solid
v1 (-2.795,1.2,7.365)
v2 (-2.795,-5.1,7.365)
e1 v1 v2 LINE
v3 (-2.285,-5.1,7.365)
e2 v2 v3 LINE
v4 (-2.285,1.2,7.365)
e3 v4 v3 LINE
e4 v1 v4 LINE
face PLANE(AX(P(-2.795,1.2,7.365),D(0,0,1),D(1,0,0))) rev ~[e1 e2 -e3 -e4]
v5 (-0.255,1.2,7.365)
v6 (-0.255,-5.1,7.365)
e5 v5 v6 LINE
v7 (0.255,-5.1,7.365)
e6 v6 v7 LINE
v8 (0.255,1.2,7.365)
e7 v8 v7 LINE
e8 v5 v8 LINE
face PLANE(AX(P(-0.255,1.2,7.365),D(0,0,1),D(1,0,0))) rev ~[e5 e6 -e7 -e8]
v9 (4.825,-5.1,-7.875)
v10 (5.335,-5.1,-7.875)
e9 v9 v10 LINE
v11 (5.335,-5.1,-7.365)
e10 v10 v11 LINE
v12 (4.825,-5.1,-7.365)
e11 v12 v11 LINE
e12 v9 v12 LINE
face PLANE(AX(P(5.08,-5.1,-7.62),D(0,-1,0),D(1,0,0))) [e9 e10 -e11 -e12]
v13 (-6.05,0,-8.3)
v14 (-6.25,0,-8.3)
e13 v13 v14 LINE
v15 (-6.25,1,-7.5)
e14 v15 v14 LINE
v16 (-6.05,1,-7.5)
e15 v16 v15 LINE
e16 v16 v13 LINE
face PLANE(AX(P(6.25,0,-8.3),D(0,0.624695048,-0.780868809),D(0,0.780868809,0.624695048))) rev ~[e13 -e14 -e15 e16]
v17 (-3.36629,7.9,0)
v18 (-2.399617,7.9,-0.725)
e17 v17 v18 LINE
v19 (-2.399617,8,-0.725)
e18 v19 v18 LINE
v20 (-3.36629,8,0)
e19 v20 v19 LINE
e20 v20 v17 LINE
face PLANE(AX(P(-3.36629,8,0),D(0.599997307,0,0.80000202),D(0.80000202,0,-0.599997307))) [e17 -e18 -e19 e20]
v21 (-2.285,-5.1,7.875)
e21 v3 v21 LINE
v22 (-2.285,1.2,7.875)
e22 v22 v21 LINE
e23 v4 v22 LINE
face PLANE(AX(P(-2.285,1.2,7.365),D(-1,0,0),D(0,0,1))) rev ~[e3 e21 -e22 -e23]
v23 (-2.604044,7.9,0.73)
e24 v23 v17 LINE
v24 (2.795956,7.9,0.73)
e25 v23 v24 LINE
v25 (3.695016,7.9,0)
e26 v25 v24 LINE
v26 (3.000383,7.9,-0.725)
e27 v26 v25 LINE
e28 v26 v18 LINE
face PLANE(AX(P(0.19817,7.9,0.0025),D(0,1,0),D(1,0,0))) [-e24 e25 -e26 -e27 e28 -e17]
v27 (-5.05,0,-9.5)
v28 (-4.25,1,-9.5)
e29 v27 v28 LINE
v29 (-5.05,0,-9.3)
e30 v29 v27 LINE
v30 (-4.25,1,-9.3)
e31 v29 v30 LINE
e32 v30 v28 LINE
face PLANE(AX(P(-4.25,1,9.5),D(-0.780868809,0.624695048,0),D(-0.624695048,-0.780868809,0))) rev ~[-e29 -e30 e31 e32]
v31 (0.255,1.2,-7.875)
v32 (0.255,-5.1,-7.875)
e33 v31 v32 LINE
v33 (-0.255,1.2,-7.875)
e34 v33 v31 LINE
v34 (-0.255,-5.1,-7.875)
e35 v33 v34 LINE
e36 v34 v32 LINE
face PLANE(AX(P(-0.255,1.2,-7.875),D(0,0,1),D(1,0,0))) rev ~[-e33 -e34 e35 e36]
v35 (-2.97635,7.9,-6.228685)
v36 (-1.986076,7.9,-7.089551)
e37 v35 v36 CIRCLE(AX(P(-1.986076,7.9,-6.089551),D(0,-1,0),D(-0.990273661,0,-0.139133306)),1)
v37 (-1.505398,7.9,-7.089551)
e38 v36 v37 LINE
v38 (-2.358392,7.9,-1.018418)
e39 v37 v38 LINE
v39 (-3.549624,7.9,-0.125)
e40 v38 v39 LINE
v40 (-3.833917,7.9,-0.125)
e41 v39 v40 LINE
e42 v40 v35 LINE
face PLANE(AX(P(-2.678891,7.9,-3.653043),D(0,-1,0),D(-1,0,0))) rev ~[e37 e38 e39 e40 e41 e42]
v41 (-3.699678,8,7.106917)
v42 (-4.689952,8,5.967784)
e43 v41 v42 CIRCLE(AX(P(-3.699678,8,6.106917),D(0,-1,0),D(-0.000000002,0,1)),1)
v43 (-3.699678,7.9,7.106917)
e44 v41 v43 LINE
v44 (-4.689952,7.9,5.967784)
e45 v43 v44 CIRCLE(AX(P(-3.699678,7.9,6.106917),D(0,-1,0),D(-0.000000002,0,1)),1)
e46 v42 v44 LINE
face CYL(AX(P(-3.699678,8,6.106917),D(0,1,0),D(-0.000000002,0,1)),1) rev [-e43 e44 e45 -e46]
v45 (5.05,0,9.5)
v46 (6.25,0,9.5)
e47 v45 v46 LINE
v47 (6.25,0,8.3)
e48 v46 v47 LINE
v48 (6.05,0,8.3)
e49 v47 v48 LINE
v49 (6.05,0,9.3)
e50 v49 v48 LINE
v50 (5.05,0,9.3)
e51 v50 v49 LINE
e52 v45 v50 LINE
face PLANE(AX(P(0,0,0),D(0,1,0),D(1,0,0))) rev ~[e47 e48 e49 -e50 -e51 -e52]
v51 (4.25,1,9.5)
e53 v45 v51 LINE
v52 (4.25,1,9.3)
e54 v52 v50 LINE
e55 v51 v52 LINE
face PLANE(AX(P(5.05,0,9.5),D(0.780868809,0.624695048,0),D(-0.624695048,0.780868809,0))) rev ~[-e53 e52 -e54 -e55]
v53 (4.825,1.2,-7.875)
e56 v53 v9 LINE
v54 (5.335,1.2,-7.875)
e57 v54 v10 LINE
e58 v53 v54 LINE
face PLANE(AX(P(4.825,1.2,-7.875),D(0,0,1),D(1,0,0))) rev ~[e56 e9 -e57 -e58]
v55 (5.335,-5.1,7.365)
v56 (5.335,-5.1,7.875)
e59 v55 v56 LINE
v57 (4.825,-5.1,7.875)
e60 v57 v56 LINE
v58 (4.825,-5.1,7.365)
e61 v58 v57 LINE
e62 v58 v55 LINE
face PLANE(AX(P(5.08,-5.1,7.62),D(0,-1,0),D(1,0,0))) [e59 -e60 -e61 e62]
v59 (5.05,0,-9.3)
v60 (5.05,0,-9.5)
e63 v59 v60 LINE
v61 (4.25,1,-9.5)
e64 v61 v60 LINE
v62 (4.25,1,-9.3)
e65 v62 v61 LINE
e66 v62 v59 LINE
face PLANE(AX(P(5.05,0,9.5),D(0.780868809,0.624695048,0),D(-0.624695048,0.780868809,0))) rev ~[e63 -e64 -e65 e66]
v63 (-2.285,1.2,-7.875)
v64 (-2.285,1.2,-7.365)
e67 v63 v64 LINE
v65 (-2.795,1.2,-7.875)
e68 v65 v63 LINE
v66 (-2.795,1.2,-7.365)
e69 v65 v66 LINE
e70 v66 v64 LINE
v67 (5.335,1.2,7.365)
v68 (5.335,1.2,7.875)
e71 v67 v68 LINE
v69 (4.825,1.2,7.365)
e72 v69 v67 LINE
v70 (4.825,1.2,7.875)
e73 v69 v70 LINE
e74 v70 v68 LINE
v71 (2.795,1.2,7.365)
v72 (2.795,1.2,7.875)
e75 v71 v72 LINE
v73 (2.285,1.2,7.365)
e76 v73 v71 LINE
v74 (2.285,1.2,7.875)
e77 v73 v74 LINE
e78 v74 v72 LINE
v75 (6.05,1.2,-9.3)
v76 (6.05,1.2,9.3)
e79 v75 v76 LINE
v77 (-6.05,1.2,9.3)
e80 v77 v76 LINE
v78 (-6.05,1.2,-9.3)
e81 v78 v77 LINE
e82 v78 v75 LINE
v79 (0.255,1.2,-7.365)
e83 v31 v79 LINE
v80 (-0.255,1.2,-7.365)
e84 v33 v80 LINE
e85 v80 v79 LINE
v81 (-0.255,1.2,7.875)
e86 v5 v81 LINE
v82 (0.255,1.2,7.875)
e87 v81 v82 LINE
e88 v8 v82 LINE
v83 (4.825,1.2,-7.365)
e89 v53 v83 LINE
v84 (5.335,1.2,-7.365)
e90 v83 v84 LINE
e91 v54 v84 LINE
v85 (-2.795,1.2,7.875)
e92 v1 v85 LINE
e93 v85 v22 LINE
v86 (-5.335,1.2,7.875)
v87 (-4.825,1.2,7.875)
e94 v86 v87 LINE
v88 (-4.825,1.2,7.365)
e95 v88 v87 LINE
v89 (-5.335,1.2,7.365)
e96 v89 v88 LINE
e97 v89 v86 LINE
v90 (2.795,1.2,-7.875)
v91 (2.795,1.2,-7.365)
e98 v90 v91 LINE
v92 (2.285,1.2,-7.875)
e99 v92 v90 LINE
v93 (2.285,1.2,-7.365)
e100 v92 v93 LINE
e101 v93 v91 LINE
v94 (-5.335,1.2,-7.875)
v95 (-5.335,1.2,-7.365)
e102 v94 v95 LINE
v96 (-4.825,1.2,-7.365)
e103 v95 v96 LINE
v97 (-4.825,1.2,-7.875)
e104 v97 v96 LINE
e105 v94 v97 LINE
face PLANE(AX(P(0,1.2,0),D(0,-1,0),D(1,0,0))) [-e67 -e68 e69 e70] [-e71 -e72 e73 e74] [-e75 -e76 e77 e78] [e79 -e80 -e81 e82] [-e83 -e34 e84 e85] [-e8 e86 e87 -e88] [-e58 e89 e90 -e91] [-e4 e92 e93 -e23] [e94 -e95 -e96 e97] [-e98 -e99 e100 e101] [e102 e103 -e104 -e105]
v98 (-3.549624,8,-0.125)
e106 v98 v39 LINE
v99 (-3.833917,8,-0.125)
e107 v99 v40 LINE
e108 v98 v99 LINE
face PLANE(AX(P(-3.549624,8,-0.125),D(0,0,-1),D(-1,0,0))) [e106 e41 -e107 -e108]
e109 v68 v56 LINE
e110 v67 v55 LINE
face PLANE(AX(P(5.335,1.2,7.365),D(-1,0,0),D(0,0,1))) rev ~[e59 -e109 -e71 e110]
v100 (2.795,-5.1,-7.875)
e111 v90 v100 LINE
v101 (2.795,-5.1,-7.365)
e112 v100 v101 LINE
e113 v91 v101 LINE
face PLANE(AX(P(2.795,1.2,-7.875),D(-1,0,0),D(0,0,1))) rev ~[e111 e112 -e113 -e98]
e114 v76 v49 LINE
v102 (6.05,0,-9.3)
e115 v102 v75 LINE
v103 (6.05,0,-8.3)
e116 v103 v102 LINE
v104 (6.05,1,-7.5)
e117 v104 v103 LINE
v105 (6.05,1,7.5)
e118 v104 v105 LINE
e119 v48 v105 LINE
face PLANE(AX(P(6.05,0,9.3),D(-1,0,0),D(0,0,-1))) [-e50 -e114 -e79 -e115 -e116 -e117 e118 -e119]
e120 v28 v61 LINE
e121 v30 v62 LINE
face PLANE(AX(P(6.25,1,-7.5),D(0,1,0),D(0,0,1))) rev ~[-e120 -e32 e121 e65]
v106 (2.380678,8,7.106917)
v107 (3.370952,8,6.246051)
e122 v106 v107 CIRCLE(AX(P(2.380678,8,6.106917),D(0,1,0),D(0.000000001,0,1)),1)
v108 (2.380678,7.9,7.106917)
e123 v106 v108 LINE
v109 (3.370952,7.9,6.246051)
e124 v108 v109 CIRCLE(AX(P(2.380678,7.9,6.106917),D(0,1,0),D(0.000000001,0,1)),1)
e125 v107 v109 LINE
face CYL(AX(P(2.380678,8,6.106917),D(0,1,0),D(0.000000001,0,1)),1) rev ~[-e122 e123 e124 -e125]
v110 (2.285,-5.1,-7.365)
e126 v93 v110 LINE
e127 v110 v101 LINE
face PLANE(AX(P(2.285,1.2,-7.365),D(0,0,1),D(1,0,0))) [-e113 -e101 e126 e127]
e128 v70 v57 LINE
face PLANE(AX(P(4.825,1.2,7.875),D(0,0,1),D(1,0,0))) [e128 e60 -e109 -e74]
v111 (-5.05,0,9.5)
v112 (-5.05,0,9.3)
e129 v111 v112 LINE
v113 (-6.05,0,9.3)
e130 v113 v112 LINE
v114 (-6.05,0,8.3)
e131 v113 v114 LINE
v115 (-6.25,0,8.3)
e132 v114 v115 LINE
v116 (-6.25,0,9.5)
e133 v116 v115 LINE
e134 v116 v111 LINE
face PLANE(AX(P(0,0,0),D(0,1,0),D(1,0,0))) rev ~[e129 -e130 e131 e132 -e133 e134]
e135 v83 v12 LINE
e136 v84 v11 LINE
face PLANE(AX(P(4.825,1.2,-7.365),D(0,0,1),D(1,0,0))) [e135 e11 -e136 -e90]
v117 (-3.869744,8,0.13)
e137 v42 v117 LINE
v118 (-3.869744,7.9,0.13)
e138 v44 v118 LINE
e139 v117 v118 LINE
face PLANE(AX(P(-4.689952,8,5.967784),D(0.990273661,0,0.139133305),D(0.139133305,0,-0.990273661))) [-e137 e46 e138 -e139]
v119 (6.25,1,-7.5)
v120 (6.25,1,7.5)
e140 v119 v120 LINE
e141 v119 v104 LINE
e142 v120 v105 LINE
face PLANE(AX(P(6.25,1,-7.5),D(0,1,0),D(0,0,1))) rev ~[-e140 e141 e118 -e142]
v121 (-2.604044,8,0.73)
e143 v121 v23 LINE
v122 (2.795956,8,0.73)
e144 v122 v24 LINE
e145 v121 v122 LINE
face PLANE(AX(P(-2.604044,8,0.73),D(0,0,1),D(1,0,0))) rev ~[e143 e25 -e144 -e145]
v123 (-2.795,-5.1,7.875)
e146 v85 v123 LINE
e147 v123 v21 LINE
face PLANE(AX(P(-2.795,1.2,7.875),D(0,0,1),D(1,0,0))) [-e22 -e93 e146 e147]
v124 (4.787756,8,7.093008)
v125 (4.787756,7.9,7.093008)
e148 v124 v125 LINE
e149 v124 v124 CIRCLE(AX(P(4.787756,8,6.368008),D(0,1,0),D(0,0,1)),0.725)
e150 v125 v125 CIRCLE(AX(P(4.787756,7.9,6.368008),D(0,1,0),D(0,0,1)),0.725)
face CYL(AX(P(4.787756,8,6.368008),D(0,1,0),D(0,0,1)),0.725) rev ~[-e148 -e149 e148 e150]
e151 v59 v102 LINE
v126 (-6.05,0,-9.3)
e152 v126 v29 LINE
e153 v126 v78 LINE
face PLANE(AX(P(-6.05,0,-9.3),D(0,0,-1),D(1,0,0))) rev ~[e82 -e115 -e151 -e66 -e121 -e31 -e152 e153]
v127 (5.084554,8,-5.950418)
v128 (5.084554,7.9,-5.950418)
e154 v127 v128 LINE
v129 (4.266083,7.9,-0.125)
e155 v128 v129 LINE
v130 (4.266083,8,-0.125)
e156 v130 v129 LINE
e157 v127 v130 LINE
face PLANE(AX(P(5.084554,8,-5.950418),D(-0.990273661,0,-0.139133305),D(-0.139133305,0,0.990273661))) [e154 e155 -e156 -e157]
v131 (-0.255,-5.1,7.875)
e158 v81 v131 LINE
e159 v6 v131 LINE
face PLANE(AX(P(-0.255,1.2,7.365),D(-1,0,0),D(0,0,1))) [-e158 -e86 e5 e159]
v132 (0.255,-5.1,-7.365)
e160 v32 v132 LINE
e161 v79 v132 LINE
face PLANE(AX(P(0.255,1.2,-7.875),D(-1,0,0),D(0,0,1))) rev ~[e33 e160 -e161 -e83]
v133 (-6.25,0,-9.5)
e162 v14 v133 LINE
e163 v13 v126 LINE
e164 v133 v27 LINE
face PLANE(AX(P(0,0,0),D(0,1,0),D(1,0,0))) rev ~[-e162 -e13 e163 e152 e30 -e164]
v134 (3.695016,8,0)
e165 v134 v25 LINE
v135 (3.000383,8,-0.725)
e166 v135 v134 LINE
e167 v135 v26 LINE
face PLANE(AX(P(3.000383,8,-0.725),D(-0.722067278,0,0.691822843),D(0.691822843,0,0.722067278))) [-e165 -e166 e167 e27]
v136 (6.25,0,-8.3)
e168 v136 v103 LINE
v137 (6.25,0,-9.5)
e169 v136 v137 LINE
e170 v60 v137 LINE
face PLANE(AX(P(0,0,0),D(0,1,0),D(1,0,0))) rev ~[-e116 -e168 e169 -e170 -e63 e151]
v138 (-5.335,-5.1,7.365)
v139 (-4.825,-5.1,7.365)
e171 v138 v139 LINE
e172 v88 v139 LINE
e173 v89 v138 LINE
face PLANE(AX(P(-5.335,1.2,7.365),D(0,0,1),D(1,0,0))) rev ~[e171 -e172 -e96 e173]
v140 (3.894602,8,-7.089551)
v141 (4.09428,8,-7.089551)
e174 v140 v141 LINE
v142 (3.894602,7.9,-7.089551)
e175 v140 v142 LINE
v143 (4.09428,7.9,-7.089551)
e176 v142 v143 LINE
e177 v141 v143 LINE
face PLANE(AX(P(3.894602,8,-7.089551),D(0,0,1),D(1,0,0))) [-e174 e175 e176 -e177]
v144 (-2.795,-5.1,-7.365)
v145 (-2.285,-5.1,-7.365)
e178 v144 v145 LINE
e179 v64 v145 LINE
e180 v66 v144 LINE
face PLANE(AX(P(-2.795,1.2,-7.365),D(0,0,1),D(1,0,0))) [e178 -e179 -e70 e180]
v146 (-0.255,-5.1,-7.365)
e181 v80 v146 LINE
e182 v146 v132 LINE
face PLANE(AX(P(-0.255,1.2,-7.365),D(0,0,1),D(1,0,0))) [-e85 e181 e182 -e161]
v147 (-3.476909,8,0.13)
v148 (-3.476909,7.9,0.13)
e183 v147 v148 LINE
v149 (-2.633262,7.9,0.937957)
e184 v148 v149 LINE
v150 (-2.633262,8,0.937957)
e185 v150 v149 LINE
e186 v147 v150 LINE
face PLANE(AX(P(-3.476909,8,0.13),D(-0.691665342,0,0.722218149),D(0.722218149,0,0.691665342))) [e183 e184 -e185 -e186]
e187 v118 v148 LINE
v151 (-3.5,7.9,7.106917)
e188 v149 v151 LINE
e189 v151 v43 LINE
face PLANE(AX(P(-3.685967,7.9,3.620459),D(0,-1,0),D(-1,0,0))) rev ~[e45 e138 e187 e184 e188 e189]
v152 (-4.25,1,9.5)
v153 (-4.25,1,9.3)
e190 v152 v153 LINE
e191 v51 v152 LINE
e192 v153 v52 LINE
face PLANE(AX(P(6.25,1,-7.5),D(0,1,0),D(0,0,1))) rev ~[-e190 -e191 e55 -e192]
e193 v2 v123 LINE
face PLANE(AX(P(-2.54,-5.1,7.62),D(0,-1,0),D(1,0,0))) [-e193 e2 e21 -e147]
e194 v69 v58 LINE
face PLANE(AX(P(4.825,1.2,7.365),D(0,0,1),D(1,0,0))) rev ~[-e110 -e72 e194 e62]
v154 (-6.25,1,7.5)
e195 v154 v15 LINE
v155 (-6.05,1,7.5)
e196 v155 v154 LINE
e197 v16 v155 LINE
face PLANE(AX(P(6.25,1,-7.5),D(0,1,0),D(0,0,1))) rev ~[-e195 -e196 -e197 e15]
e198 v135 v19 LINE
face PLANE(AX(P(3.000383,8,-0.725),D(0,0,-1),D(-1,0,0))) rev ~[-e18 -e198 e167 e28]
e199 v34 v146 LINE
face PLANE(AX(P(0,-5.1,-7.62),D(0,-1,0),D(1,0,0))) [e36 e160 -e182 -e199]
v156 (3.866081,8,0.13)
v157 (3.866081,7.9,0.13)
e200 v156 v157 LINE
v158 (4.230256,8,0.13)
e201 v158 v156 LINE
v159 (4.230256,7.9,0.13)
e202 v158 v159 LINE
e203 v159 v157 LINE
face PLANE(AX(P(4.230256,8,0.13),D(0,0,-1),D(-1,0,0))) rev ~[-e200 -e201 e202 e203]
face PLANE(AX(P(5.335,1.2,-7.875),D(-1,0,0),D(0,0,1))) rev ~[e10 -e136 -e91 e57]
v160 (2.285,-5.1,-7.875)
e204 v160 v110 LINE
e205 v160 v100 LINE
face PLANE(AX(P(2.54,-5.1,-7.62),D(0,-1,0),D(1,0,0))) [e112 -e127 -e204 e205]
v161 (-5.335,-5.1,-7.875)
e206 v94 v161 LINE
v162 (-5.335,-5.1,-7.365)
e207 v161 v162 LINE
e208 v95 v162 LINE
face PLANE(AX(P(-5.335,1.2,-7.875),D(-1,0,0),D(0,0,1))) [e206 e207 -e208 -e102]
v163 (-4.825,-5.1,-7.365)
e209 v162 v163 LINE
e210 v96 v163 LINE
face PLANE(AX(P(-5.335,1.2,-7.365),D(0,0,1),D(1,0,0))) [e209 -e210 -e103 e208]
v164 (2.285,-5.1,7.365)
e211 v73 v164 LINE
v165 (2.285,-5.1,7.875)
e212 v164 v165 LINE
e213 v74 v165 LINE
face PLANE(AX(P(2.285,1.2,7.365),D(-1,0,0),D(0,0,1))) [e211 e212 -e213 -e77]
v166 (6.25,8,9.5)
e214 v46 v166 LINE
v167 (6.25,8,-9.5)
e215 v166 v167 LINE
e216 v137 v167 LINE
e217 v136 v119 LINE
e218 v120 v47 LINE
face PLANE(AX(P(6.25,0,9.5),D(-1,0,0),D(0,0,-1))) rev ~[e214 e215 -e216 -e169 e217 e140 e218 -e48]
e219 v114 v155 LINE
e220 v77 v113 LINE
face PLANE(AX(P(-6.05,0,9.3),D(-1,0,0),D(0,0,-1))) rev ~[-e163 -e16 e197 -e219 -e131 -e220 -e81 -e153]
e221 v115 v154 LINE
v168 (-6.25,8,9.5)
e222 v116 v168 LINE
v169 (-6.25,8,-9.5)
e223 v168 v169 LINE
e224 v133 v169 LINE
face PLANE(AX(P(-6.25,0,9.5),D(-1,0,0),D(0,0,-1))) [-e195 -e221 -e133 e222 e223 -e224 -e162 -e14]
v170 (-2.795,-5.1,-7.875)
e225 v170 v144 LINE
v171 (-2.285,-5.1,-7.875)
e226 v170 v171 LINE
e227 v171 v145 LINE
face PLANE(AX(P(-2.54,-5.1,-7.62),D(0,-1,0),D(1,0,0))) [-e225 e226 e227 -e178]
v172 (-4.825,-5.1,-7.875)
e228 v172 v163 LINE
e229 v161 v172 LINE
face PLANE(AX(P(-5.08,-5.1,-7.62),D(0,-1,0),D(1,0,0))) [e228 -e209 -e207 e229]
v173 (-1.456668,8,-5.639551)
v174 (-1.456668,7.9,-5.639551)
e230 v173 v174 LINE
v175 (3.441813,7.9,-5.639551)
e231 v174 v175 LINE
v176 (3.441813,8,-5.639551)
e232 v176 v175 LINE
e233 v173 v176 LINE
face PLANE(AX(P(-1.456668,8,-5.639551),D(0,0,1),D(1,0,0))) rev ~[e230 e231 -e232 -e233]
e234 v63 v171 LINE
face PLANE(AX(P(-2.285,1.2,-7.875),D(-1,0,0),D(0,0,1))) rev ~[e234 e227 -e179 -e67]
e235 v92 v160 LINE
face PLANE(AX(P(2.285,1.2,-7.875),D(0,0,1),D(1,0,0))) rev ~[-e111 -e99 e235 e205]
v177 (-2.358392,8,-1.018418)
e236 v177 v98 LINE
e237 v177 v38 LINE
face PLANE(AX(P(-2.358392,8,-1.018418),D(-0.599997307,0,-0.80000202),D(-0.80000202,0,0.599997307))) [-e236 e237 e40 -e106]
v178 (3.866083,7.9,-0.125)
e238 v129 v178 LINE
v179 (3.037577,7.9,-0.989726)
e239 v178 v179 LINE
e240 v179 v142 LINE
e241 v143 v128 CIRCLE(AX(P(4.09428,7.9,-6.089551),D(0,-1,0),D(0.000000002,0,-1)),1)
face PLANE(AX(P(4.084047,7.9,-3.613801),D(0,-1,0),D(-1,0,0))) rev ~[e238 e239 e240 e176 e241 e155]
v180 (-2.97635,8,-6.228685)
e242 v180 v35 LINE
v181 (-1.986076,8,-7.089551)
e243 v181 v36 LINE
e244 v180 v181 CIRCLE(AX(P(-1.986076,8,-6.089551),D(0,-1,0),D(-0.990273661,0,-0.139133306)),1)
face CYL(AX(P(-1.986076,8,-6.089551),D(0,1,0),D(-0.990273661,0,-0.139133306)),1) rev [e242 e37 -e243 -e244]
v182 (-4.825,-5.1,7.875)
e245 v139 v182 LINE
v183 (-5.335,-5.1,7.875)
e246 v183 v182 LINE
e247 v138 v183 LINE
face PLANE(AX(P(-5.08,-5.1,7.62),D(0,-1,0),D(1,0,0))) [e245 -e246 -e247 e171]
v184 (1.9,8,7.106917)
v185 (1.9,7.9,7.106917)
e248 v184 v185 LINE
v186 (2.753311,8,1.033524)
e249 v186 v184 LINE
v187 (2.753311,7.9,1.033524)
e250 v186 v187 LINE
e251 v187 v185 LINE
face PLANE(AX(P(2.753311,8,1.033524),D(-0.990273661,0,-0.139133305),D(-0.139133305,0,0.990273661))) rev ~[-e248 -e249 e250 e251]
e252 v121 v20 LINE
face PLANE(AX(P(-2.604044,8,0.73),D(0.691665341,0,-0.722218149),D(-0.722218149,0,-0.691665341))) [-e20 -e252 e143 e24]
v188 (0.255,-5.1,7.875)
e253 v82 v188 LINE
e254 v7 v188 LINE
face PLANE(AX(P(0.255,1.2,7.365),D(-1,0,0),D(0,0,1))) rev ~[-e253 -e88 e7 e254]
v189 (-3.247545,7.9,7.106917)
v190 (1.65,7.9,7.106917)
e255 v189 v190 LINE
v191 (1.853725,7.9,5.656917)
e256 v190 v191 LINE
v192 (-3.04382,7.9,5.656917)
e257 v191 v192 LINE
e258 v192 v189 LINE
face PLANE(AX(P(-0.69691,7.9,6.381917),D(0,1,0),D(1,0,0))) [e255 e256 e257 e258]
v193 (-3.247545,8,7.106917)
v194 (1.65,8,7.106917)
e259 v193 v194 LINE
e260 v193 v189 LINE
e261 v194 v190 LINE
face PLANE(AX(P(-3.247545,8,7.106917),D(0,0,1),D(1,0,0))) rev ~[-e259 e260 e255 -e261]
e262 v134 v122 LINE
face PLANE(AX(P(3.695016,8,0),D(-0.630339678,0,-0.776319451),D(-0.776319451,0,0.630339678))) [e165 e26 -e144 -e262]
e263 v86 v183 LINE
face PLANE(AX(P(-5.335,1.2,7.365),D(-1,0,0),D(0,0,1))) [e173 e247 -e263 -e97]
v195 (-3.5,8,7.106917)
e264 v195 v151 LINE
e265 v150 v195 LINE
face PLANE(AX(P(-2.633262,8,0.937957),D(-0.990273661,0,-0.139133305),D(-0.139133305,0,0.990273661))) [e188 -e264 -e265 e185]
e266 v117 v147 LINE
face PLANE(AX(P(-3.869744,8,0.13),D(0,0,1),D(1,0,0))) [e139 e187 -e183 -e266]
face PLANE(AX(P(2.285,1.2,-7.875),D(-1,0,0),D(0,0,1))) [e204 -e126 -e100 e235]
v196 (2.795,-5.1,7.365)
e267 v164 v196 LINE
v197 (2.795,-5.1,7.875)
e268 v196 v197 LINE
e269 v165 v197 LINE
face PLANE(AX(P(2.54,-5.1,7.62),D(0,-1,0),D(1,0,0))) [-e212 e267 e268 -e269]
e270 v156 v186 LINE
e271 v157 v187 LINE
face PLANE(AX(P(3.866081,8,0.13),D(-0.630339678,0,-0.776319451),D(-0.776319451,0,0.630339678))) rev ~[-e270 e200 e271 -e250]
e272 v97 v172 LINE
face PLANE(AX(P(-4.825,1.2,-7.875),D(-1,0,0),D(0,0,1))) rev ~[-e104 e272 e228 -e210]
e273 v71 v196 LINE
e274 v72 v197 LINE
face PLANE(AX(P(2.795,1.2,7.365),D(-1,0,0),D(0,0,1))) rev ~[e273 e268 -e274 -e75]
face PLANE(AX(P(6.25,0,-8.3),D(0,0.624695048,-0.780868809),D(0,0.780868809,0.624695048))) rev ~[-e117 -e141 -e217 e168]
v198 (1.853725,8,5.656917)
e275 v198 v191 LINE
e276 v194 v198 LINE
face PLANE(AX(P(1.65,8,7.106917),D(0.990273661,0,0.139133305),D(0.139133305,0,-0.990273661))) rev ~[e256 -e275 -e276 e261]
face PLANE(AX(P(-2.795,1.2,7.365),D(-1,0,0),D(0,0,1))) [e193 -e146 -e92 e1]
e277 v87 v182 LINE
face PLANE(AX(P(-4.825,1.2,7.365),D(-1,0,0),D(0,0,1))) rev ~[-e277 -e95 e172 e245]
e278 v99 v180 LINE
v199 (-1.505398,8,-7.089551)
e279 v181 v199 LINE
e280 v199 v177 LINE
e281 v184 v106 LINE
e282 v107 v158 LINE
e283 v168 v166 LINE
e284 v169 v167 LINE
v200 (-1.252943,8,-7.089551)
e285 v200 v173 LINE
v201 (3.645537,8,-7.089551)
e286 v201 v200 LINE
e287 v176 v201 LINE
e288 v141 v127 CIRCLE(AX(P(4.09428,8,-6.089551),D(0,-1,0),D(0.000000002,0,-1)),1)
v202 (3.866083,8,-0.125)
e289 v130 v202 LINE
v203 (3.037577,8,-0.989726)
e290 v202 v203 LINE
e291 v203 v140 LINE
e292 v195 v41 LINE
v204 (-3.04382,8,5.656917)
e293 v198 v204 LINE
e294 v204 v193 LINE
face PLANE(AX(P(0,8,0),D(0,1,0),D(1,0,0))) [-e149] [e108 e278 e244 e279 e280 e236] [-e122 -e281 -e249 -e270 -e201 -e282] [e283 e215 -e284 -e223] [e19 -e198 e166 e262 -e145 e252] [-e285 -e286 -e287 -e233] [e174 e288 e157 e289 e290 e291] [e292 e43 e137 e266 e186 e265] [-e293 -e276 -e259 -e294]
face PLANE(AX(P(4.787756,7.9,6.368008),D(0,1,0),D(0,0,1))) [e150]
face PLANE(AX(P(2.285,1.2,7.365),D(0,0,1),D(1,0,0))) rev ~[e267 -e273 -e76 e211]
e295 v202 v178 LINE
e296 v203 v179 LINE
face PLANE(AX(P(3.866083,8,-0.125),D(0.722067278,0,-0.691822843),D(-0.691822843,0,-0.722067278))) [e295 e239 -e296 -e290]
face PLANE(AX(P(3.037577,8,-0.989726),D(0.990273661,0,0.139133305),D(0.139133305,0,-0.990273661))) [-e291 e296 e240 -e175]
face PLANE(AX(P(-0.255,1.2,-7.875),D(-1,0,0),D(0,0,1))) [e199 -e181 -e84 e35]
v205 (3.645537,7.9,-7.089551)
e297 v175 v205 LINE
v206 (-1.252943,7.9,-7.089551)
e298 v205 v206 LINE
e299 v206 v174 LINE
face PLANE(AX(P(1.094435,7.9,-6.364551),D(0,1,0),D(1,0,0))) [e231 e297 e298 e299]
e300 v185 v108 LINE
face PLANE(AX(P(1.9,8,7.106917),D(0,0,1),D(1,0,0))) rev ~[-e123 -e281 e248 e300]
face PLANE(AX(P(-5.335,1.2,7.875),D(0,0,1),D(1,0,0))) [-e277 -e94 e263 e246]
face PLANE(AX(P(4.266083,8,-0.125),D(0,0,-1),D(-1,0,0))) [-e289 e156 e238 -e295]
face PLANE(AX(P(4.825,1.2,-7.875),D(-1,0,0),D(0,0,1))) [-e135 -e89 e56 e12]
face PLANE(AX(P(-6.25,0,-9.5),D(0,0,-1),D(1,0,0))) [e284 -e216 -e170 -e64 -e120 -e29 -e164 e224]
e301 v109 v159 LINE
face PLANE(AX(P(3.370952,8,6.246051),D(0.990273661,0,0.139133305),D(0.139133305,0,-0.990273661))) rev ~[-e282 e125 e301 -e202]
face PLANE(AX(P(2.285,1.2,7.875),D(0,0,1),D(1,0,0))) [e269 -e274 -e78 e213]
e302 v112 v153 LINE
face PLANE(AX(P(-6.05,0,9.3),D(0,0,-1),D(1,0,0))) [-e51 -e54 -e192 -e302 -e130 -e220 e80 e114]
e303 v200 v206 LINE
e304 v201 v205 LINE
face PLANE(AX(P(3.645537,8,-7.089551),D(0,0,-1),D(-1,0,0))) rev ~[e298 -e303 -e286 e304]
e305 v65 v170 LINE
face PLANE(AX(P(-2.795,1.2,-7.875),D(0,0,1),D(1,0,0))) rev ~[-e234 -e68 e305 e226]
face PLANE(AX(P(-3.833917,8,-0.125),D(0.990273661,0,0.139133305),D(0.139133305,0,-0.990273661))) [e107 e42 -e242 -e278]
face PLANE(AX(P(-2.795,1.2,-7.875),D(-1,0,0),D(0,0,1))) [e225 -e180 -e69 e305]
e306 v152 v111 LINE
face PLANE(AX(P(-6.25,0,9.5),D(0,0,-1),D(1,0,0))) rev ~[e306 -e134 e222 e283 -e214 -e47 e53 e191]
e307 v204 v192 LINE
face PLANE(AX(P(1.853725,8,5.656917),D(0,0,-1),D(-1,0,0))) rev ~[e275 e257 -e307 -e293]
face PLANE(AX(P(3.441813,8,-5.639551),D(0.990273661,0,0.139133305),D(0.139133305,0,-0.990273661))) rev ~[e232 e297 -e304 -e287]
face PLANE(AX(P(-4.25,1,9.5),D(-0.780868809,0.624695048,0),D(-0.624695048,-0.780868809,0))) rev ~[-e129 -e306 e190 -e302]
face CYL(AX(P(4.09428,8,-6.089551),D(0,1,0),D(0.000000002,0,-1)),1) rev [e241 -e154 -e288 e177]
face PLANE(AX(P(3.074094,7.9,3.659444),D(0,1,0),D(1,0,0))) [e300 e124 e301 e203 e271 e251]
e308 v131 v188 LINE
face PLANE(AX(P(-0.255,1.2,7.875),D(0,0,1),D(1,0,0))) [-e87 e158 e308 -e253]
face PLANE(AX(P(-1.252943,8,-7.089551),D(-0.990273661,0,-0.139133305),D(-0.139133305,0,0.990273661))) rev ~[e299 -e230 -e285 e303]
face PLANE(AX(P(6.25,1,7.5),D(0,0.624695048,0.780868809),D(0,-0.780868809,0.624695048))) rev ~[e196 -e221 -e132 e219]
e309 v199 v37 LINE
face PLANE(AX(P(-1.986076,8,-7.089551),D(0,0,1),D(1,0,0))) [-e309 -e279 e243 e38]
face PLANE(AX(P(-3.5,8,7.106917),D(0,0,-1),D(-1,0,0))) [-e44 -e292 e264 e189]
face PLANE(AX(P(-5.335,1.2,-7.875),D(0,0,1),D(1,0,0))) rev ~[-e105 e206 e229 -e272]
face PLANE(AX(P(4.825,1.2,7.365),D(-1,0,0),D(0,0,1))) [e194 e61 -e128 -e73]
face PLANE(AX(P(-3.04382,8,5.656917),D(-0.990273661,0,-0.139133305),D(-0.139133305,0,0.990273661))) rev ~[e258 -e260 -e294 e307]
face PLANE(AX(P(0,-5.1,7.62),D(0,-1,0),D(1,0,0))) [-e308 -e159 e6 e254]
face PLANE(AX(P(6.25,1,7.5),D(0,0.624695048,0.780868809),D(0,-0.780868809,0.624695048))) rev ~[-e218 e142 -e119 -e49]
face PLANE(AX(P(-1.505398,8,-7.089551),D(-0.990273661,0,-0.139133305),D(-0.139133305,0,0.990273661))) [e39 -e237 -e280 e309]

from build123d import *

# Parameters (mm, degrees)
CROQUIS1_W              = 12.5
CROQUIS1_H              = 19
SALIENTE_EXTRUIR1_DEPTH = 8
CROQUIS4_W              = 12.1
CROQUIS4_H              = 18.6
CORTAR_EXTRUIR3_DEPTH   = 1
CORTAR_EXTRUIR1_DEPTH   = 18.621010187
CORTAR_EXTRUIR2_DEPTH   = 22.542109925
CROQUIS5_W              = 12.1
CROQUIS5_H              = 18.6
CORTAR_EXTRUIR4_DEPTH   = 0.2
CROQUIS6_W              = 0.51
CROQUIS6_H              = 0.51
SALIENTE_EXTRUIR2_DEPTH = 6.3
CROQUIS7_R              = 0.725
CORTAR_EXTRUIR5_DEPTH   = 0.1


with BuildPart() as part:
    # Croquis1 → Saliente-Extruir1 (new body)
    with BuildSketch(Plane(origin=(0, 0, 0), x_dir=(1, 0, 0), z_dir=(0, 1, 0))):
        Rectangle(CROQUIS1_W, CROQUIS1_H)
    extrude(amount=SALIENTE_EXTRUIR1_DEPTH)

    # Croquis4 → Cortar-Extruir3 (cut)
    with BuildSketch(Plane(origin=(0, 0, 0), x_dir=(1, 0, 0), z_dir=(0, 1, 0))):
        Rectangle(CROQUIS4_W, CROQUIS4_H)
    extrude(amount=CORTAR_EXTRUIR3_DEPTH, mode=Mode.SUBTRACT)

    # Croquis2 → Cortar-Extruir1 (cut, through all)
    with BuildSketch(Plane(origin=(6.25, 0, 0), x_dir=(0, 0, -1), z_dir=(1, 0, 0))):
        Polygon((-8.3, 0), (0, 0), (0, 1), (-7.5, 1), align=None)
        Polygon((0, 1), (0, 0), (8.3, 0), (7.5, 1), align=None)
    extrude(amount=-CORTAR_EXTRUIR1_DEPTH, mode=Mode.SUBTRACT)

    # Croquis3 → Cortar-Extruir2 (cut, through all)
    with BuildSketch(Plane.XY.offset(9.5)):
        Polygon((0, 1), (0, 0), (5.05, 0), (4.25, 1), align=None)
        Polygon((-5.05, 0), (0, 0), (0, 1), (-4.25, 1), align=None)
    extrude(amount=-CORTAR_EXTRUIR2_DEPTH, mode=Mode.SUBTRACT)

    # Croquis5 → Cortar-Extruir4 (cut)
    with BuildSketch(Plane.XZ.offset(-1)):
        Rectangle(CROQUIS5_W, CROQUIS5_H)
    extrude(amount=-CORTAR_EXTRUIR4_DEPTH, mode=Mode.SUBTRACT)

    # Croquis6 → Saliente-Extruir2 (add)
    with BuildSketch(Plane.XZ.offset(-1.2)):
        with Locations((5.08, 7.62)):
            Rectangle(CROQUIS6_W, CROQUIS6_H)
        with Locations((-5.08, 7.62)):
            Rectangle(CROQUIS6_W, CROQUIS6_H)
        with Locations((-2.54, 7.62)):
            Rectangle(CROQUIS6_W, CROQUIS6_H)
        with Locations((0, 7.62)):
            Rectangle(CROQUIS6_W, CROQUIS6_H)
        with Locations((2.54, 7.62)):
            Rectangle(CROQUIS6_W, CROQUIS6_H)
        with Locations((5.08, -7.62)):
            Rectangle(CROQUIS6_W, CROQUIS6_H)
        with Locations((2.54, -7.62)):
            Rectangle(CROQUIS6_W, CROQUIS6_H)
        with Locations((0, -7.62)):
            Rectangle(CROQUIS6_W, CROQUIS6_H)
        with Locations((-2.54, -7.62)):
            Rectangle(CROQUIS6_W, CROQUIS6_H)
        with Locations((-5.08, -7.62)):
            Rectangle(CROQUIS6_W, CROQUIS6_H)
    extrude(amount=SALIENTE_EXTRUIR2_DEPTH)

    # Croquis7 → Cortar-Extruir5 (cut)
    with BuildSketch(Plane(origin=(0, 8, 0), x_dir=(1, 0, 0), z_dir=(0, 1, 0))):
        with BuildLine():
            Line((5.08455374, 5.950418058), (4.266083352, 0.125))
            Line((4.266083352, 0.125), (3.866083352, 0.125))
            Line((3.866083352, 0.125), (3.037577222, 0.989725951))
            Line((3.037577222, 0.989725951), (3.894601803, 7.089551363))
            Line((3.894601803, 7.089551363), (4.094280079, 7.089551363))
            ThreePointArc((4.094280079, 7.089551363), (4.848976476, 6.745625556), (5.08455374, 5.950418058))
        make_face()
        with BuildLine():
            Line((1.9, -7.106917481), (2.380677984, -7.106917481))
            ThreePointArc((2.380677984, -7.106917481), (3.036752178, -6.861613878), (3.370951645, -6.246050786))
            Line((3.370951645, -6.246050786), (4.230255889, -0.13))
            Line((4.230255889, -0.13), (3.866081115, -0.13))
            Line((3.866081115, -0.13), (2.753310906, -1.033523948))
            Line((2.753310906, -1.033523948), (1.9, -7.106917481))
        make_face()
        Polygon((0, 0.725), (-2.399616736, 0.725), (-2.604044024, -0.73), (0, -0.73), (2.795955976, -0.73), (3.000383264, 0.725), align=None)
        Polygon((1.853724789, -5.656917481), (-3.043819744, -5.656917481), (-3.247544533, -7.106917481), (1.65, -7.106917481), align=None)
        with BuildLine():
            ThreePointArc((-3.699678276, -7.106917481), (-4.454374673, -6.762991674), (-4.689951937, -5.967784176))
            Line((-4.689951937, -5.967784176), (-3.869744111, -0.13))
            Line((-3.869744111, -0.13), (-3.476909246, -0.13))
            Line((-3.476909246, -0.13), (-2.633262018, -0.937957469))
            Line((-2.633262018, -0.937957469), (-3.5, -7.106917481))
            Line((-3.5, -7.106917481), (-3.699678276, -7.106917481))
        make_face()
        with BuildLine():
            ThreePointArc((-2.976349842, 6.228684668), (-2.642150375, 6.84424776), (-1.986076181, 7.089551363))
            Line((-1.986076181, 7.089551363), (-1.505398197, 7.089551363))
            Line((-1.505398197, 7.089551363), (-2.358391548, 1.018418011))
            Line((-2.358391548, 1.018418011), (-3.549623917, 0.125))
            Line((-3.549623917, 0.125), (-3.833916648, 0.125))
            Line((-3.833916648, 0.125), (-2.976349842, 6.228684668))
        make_face()
        Polygon((-2.399616736, 0.725), (-2.604044024, -0.73), (-3.366290182, 0), align=None)
        Polygon((3.000383264, 0.725), (3.69501599, 0), (2.795955976, -0.73), align=None)
        with Locations(Location((4.787756453, -6.368008077, 0), (0, 0, 270))):
            Circle(CROQUIS7_R)
        Polygon((-1.25294273, 7.089551363), (-1.456667518, 5.639551363), (0, 5.639551363), (3.441812575, 5.639551363), (3.645537364, 7.089551363), (0, 7.089551363), align=None)
    extrude(amount=-CORTAR_EXTRUIR5_DEPTH, mode=Mode.SUBTRACT)


solid = part.part
